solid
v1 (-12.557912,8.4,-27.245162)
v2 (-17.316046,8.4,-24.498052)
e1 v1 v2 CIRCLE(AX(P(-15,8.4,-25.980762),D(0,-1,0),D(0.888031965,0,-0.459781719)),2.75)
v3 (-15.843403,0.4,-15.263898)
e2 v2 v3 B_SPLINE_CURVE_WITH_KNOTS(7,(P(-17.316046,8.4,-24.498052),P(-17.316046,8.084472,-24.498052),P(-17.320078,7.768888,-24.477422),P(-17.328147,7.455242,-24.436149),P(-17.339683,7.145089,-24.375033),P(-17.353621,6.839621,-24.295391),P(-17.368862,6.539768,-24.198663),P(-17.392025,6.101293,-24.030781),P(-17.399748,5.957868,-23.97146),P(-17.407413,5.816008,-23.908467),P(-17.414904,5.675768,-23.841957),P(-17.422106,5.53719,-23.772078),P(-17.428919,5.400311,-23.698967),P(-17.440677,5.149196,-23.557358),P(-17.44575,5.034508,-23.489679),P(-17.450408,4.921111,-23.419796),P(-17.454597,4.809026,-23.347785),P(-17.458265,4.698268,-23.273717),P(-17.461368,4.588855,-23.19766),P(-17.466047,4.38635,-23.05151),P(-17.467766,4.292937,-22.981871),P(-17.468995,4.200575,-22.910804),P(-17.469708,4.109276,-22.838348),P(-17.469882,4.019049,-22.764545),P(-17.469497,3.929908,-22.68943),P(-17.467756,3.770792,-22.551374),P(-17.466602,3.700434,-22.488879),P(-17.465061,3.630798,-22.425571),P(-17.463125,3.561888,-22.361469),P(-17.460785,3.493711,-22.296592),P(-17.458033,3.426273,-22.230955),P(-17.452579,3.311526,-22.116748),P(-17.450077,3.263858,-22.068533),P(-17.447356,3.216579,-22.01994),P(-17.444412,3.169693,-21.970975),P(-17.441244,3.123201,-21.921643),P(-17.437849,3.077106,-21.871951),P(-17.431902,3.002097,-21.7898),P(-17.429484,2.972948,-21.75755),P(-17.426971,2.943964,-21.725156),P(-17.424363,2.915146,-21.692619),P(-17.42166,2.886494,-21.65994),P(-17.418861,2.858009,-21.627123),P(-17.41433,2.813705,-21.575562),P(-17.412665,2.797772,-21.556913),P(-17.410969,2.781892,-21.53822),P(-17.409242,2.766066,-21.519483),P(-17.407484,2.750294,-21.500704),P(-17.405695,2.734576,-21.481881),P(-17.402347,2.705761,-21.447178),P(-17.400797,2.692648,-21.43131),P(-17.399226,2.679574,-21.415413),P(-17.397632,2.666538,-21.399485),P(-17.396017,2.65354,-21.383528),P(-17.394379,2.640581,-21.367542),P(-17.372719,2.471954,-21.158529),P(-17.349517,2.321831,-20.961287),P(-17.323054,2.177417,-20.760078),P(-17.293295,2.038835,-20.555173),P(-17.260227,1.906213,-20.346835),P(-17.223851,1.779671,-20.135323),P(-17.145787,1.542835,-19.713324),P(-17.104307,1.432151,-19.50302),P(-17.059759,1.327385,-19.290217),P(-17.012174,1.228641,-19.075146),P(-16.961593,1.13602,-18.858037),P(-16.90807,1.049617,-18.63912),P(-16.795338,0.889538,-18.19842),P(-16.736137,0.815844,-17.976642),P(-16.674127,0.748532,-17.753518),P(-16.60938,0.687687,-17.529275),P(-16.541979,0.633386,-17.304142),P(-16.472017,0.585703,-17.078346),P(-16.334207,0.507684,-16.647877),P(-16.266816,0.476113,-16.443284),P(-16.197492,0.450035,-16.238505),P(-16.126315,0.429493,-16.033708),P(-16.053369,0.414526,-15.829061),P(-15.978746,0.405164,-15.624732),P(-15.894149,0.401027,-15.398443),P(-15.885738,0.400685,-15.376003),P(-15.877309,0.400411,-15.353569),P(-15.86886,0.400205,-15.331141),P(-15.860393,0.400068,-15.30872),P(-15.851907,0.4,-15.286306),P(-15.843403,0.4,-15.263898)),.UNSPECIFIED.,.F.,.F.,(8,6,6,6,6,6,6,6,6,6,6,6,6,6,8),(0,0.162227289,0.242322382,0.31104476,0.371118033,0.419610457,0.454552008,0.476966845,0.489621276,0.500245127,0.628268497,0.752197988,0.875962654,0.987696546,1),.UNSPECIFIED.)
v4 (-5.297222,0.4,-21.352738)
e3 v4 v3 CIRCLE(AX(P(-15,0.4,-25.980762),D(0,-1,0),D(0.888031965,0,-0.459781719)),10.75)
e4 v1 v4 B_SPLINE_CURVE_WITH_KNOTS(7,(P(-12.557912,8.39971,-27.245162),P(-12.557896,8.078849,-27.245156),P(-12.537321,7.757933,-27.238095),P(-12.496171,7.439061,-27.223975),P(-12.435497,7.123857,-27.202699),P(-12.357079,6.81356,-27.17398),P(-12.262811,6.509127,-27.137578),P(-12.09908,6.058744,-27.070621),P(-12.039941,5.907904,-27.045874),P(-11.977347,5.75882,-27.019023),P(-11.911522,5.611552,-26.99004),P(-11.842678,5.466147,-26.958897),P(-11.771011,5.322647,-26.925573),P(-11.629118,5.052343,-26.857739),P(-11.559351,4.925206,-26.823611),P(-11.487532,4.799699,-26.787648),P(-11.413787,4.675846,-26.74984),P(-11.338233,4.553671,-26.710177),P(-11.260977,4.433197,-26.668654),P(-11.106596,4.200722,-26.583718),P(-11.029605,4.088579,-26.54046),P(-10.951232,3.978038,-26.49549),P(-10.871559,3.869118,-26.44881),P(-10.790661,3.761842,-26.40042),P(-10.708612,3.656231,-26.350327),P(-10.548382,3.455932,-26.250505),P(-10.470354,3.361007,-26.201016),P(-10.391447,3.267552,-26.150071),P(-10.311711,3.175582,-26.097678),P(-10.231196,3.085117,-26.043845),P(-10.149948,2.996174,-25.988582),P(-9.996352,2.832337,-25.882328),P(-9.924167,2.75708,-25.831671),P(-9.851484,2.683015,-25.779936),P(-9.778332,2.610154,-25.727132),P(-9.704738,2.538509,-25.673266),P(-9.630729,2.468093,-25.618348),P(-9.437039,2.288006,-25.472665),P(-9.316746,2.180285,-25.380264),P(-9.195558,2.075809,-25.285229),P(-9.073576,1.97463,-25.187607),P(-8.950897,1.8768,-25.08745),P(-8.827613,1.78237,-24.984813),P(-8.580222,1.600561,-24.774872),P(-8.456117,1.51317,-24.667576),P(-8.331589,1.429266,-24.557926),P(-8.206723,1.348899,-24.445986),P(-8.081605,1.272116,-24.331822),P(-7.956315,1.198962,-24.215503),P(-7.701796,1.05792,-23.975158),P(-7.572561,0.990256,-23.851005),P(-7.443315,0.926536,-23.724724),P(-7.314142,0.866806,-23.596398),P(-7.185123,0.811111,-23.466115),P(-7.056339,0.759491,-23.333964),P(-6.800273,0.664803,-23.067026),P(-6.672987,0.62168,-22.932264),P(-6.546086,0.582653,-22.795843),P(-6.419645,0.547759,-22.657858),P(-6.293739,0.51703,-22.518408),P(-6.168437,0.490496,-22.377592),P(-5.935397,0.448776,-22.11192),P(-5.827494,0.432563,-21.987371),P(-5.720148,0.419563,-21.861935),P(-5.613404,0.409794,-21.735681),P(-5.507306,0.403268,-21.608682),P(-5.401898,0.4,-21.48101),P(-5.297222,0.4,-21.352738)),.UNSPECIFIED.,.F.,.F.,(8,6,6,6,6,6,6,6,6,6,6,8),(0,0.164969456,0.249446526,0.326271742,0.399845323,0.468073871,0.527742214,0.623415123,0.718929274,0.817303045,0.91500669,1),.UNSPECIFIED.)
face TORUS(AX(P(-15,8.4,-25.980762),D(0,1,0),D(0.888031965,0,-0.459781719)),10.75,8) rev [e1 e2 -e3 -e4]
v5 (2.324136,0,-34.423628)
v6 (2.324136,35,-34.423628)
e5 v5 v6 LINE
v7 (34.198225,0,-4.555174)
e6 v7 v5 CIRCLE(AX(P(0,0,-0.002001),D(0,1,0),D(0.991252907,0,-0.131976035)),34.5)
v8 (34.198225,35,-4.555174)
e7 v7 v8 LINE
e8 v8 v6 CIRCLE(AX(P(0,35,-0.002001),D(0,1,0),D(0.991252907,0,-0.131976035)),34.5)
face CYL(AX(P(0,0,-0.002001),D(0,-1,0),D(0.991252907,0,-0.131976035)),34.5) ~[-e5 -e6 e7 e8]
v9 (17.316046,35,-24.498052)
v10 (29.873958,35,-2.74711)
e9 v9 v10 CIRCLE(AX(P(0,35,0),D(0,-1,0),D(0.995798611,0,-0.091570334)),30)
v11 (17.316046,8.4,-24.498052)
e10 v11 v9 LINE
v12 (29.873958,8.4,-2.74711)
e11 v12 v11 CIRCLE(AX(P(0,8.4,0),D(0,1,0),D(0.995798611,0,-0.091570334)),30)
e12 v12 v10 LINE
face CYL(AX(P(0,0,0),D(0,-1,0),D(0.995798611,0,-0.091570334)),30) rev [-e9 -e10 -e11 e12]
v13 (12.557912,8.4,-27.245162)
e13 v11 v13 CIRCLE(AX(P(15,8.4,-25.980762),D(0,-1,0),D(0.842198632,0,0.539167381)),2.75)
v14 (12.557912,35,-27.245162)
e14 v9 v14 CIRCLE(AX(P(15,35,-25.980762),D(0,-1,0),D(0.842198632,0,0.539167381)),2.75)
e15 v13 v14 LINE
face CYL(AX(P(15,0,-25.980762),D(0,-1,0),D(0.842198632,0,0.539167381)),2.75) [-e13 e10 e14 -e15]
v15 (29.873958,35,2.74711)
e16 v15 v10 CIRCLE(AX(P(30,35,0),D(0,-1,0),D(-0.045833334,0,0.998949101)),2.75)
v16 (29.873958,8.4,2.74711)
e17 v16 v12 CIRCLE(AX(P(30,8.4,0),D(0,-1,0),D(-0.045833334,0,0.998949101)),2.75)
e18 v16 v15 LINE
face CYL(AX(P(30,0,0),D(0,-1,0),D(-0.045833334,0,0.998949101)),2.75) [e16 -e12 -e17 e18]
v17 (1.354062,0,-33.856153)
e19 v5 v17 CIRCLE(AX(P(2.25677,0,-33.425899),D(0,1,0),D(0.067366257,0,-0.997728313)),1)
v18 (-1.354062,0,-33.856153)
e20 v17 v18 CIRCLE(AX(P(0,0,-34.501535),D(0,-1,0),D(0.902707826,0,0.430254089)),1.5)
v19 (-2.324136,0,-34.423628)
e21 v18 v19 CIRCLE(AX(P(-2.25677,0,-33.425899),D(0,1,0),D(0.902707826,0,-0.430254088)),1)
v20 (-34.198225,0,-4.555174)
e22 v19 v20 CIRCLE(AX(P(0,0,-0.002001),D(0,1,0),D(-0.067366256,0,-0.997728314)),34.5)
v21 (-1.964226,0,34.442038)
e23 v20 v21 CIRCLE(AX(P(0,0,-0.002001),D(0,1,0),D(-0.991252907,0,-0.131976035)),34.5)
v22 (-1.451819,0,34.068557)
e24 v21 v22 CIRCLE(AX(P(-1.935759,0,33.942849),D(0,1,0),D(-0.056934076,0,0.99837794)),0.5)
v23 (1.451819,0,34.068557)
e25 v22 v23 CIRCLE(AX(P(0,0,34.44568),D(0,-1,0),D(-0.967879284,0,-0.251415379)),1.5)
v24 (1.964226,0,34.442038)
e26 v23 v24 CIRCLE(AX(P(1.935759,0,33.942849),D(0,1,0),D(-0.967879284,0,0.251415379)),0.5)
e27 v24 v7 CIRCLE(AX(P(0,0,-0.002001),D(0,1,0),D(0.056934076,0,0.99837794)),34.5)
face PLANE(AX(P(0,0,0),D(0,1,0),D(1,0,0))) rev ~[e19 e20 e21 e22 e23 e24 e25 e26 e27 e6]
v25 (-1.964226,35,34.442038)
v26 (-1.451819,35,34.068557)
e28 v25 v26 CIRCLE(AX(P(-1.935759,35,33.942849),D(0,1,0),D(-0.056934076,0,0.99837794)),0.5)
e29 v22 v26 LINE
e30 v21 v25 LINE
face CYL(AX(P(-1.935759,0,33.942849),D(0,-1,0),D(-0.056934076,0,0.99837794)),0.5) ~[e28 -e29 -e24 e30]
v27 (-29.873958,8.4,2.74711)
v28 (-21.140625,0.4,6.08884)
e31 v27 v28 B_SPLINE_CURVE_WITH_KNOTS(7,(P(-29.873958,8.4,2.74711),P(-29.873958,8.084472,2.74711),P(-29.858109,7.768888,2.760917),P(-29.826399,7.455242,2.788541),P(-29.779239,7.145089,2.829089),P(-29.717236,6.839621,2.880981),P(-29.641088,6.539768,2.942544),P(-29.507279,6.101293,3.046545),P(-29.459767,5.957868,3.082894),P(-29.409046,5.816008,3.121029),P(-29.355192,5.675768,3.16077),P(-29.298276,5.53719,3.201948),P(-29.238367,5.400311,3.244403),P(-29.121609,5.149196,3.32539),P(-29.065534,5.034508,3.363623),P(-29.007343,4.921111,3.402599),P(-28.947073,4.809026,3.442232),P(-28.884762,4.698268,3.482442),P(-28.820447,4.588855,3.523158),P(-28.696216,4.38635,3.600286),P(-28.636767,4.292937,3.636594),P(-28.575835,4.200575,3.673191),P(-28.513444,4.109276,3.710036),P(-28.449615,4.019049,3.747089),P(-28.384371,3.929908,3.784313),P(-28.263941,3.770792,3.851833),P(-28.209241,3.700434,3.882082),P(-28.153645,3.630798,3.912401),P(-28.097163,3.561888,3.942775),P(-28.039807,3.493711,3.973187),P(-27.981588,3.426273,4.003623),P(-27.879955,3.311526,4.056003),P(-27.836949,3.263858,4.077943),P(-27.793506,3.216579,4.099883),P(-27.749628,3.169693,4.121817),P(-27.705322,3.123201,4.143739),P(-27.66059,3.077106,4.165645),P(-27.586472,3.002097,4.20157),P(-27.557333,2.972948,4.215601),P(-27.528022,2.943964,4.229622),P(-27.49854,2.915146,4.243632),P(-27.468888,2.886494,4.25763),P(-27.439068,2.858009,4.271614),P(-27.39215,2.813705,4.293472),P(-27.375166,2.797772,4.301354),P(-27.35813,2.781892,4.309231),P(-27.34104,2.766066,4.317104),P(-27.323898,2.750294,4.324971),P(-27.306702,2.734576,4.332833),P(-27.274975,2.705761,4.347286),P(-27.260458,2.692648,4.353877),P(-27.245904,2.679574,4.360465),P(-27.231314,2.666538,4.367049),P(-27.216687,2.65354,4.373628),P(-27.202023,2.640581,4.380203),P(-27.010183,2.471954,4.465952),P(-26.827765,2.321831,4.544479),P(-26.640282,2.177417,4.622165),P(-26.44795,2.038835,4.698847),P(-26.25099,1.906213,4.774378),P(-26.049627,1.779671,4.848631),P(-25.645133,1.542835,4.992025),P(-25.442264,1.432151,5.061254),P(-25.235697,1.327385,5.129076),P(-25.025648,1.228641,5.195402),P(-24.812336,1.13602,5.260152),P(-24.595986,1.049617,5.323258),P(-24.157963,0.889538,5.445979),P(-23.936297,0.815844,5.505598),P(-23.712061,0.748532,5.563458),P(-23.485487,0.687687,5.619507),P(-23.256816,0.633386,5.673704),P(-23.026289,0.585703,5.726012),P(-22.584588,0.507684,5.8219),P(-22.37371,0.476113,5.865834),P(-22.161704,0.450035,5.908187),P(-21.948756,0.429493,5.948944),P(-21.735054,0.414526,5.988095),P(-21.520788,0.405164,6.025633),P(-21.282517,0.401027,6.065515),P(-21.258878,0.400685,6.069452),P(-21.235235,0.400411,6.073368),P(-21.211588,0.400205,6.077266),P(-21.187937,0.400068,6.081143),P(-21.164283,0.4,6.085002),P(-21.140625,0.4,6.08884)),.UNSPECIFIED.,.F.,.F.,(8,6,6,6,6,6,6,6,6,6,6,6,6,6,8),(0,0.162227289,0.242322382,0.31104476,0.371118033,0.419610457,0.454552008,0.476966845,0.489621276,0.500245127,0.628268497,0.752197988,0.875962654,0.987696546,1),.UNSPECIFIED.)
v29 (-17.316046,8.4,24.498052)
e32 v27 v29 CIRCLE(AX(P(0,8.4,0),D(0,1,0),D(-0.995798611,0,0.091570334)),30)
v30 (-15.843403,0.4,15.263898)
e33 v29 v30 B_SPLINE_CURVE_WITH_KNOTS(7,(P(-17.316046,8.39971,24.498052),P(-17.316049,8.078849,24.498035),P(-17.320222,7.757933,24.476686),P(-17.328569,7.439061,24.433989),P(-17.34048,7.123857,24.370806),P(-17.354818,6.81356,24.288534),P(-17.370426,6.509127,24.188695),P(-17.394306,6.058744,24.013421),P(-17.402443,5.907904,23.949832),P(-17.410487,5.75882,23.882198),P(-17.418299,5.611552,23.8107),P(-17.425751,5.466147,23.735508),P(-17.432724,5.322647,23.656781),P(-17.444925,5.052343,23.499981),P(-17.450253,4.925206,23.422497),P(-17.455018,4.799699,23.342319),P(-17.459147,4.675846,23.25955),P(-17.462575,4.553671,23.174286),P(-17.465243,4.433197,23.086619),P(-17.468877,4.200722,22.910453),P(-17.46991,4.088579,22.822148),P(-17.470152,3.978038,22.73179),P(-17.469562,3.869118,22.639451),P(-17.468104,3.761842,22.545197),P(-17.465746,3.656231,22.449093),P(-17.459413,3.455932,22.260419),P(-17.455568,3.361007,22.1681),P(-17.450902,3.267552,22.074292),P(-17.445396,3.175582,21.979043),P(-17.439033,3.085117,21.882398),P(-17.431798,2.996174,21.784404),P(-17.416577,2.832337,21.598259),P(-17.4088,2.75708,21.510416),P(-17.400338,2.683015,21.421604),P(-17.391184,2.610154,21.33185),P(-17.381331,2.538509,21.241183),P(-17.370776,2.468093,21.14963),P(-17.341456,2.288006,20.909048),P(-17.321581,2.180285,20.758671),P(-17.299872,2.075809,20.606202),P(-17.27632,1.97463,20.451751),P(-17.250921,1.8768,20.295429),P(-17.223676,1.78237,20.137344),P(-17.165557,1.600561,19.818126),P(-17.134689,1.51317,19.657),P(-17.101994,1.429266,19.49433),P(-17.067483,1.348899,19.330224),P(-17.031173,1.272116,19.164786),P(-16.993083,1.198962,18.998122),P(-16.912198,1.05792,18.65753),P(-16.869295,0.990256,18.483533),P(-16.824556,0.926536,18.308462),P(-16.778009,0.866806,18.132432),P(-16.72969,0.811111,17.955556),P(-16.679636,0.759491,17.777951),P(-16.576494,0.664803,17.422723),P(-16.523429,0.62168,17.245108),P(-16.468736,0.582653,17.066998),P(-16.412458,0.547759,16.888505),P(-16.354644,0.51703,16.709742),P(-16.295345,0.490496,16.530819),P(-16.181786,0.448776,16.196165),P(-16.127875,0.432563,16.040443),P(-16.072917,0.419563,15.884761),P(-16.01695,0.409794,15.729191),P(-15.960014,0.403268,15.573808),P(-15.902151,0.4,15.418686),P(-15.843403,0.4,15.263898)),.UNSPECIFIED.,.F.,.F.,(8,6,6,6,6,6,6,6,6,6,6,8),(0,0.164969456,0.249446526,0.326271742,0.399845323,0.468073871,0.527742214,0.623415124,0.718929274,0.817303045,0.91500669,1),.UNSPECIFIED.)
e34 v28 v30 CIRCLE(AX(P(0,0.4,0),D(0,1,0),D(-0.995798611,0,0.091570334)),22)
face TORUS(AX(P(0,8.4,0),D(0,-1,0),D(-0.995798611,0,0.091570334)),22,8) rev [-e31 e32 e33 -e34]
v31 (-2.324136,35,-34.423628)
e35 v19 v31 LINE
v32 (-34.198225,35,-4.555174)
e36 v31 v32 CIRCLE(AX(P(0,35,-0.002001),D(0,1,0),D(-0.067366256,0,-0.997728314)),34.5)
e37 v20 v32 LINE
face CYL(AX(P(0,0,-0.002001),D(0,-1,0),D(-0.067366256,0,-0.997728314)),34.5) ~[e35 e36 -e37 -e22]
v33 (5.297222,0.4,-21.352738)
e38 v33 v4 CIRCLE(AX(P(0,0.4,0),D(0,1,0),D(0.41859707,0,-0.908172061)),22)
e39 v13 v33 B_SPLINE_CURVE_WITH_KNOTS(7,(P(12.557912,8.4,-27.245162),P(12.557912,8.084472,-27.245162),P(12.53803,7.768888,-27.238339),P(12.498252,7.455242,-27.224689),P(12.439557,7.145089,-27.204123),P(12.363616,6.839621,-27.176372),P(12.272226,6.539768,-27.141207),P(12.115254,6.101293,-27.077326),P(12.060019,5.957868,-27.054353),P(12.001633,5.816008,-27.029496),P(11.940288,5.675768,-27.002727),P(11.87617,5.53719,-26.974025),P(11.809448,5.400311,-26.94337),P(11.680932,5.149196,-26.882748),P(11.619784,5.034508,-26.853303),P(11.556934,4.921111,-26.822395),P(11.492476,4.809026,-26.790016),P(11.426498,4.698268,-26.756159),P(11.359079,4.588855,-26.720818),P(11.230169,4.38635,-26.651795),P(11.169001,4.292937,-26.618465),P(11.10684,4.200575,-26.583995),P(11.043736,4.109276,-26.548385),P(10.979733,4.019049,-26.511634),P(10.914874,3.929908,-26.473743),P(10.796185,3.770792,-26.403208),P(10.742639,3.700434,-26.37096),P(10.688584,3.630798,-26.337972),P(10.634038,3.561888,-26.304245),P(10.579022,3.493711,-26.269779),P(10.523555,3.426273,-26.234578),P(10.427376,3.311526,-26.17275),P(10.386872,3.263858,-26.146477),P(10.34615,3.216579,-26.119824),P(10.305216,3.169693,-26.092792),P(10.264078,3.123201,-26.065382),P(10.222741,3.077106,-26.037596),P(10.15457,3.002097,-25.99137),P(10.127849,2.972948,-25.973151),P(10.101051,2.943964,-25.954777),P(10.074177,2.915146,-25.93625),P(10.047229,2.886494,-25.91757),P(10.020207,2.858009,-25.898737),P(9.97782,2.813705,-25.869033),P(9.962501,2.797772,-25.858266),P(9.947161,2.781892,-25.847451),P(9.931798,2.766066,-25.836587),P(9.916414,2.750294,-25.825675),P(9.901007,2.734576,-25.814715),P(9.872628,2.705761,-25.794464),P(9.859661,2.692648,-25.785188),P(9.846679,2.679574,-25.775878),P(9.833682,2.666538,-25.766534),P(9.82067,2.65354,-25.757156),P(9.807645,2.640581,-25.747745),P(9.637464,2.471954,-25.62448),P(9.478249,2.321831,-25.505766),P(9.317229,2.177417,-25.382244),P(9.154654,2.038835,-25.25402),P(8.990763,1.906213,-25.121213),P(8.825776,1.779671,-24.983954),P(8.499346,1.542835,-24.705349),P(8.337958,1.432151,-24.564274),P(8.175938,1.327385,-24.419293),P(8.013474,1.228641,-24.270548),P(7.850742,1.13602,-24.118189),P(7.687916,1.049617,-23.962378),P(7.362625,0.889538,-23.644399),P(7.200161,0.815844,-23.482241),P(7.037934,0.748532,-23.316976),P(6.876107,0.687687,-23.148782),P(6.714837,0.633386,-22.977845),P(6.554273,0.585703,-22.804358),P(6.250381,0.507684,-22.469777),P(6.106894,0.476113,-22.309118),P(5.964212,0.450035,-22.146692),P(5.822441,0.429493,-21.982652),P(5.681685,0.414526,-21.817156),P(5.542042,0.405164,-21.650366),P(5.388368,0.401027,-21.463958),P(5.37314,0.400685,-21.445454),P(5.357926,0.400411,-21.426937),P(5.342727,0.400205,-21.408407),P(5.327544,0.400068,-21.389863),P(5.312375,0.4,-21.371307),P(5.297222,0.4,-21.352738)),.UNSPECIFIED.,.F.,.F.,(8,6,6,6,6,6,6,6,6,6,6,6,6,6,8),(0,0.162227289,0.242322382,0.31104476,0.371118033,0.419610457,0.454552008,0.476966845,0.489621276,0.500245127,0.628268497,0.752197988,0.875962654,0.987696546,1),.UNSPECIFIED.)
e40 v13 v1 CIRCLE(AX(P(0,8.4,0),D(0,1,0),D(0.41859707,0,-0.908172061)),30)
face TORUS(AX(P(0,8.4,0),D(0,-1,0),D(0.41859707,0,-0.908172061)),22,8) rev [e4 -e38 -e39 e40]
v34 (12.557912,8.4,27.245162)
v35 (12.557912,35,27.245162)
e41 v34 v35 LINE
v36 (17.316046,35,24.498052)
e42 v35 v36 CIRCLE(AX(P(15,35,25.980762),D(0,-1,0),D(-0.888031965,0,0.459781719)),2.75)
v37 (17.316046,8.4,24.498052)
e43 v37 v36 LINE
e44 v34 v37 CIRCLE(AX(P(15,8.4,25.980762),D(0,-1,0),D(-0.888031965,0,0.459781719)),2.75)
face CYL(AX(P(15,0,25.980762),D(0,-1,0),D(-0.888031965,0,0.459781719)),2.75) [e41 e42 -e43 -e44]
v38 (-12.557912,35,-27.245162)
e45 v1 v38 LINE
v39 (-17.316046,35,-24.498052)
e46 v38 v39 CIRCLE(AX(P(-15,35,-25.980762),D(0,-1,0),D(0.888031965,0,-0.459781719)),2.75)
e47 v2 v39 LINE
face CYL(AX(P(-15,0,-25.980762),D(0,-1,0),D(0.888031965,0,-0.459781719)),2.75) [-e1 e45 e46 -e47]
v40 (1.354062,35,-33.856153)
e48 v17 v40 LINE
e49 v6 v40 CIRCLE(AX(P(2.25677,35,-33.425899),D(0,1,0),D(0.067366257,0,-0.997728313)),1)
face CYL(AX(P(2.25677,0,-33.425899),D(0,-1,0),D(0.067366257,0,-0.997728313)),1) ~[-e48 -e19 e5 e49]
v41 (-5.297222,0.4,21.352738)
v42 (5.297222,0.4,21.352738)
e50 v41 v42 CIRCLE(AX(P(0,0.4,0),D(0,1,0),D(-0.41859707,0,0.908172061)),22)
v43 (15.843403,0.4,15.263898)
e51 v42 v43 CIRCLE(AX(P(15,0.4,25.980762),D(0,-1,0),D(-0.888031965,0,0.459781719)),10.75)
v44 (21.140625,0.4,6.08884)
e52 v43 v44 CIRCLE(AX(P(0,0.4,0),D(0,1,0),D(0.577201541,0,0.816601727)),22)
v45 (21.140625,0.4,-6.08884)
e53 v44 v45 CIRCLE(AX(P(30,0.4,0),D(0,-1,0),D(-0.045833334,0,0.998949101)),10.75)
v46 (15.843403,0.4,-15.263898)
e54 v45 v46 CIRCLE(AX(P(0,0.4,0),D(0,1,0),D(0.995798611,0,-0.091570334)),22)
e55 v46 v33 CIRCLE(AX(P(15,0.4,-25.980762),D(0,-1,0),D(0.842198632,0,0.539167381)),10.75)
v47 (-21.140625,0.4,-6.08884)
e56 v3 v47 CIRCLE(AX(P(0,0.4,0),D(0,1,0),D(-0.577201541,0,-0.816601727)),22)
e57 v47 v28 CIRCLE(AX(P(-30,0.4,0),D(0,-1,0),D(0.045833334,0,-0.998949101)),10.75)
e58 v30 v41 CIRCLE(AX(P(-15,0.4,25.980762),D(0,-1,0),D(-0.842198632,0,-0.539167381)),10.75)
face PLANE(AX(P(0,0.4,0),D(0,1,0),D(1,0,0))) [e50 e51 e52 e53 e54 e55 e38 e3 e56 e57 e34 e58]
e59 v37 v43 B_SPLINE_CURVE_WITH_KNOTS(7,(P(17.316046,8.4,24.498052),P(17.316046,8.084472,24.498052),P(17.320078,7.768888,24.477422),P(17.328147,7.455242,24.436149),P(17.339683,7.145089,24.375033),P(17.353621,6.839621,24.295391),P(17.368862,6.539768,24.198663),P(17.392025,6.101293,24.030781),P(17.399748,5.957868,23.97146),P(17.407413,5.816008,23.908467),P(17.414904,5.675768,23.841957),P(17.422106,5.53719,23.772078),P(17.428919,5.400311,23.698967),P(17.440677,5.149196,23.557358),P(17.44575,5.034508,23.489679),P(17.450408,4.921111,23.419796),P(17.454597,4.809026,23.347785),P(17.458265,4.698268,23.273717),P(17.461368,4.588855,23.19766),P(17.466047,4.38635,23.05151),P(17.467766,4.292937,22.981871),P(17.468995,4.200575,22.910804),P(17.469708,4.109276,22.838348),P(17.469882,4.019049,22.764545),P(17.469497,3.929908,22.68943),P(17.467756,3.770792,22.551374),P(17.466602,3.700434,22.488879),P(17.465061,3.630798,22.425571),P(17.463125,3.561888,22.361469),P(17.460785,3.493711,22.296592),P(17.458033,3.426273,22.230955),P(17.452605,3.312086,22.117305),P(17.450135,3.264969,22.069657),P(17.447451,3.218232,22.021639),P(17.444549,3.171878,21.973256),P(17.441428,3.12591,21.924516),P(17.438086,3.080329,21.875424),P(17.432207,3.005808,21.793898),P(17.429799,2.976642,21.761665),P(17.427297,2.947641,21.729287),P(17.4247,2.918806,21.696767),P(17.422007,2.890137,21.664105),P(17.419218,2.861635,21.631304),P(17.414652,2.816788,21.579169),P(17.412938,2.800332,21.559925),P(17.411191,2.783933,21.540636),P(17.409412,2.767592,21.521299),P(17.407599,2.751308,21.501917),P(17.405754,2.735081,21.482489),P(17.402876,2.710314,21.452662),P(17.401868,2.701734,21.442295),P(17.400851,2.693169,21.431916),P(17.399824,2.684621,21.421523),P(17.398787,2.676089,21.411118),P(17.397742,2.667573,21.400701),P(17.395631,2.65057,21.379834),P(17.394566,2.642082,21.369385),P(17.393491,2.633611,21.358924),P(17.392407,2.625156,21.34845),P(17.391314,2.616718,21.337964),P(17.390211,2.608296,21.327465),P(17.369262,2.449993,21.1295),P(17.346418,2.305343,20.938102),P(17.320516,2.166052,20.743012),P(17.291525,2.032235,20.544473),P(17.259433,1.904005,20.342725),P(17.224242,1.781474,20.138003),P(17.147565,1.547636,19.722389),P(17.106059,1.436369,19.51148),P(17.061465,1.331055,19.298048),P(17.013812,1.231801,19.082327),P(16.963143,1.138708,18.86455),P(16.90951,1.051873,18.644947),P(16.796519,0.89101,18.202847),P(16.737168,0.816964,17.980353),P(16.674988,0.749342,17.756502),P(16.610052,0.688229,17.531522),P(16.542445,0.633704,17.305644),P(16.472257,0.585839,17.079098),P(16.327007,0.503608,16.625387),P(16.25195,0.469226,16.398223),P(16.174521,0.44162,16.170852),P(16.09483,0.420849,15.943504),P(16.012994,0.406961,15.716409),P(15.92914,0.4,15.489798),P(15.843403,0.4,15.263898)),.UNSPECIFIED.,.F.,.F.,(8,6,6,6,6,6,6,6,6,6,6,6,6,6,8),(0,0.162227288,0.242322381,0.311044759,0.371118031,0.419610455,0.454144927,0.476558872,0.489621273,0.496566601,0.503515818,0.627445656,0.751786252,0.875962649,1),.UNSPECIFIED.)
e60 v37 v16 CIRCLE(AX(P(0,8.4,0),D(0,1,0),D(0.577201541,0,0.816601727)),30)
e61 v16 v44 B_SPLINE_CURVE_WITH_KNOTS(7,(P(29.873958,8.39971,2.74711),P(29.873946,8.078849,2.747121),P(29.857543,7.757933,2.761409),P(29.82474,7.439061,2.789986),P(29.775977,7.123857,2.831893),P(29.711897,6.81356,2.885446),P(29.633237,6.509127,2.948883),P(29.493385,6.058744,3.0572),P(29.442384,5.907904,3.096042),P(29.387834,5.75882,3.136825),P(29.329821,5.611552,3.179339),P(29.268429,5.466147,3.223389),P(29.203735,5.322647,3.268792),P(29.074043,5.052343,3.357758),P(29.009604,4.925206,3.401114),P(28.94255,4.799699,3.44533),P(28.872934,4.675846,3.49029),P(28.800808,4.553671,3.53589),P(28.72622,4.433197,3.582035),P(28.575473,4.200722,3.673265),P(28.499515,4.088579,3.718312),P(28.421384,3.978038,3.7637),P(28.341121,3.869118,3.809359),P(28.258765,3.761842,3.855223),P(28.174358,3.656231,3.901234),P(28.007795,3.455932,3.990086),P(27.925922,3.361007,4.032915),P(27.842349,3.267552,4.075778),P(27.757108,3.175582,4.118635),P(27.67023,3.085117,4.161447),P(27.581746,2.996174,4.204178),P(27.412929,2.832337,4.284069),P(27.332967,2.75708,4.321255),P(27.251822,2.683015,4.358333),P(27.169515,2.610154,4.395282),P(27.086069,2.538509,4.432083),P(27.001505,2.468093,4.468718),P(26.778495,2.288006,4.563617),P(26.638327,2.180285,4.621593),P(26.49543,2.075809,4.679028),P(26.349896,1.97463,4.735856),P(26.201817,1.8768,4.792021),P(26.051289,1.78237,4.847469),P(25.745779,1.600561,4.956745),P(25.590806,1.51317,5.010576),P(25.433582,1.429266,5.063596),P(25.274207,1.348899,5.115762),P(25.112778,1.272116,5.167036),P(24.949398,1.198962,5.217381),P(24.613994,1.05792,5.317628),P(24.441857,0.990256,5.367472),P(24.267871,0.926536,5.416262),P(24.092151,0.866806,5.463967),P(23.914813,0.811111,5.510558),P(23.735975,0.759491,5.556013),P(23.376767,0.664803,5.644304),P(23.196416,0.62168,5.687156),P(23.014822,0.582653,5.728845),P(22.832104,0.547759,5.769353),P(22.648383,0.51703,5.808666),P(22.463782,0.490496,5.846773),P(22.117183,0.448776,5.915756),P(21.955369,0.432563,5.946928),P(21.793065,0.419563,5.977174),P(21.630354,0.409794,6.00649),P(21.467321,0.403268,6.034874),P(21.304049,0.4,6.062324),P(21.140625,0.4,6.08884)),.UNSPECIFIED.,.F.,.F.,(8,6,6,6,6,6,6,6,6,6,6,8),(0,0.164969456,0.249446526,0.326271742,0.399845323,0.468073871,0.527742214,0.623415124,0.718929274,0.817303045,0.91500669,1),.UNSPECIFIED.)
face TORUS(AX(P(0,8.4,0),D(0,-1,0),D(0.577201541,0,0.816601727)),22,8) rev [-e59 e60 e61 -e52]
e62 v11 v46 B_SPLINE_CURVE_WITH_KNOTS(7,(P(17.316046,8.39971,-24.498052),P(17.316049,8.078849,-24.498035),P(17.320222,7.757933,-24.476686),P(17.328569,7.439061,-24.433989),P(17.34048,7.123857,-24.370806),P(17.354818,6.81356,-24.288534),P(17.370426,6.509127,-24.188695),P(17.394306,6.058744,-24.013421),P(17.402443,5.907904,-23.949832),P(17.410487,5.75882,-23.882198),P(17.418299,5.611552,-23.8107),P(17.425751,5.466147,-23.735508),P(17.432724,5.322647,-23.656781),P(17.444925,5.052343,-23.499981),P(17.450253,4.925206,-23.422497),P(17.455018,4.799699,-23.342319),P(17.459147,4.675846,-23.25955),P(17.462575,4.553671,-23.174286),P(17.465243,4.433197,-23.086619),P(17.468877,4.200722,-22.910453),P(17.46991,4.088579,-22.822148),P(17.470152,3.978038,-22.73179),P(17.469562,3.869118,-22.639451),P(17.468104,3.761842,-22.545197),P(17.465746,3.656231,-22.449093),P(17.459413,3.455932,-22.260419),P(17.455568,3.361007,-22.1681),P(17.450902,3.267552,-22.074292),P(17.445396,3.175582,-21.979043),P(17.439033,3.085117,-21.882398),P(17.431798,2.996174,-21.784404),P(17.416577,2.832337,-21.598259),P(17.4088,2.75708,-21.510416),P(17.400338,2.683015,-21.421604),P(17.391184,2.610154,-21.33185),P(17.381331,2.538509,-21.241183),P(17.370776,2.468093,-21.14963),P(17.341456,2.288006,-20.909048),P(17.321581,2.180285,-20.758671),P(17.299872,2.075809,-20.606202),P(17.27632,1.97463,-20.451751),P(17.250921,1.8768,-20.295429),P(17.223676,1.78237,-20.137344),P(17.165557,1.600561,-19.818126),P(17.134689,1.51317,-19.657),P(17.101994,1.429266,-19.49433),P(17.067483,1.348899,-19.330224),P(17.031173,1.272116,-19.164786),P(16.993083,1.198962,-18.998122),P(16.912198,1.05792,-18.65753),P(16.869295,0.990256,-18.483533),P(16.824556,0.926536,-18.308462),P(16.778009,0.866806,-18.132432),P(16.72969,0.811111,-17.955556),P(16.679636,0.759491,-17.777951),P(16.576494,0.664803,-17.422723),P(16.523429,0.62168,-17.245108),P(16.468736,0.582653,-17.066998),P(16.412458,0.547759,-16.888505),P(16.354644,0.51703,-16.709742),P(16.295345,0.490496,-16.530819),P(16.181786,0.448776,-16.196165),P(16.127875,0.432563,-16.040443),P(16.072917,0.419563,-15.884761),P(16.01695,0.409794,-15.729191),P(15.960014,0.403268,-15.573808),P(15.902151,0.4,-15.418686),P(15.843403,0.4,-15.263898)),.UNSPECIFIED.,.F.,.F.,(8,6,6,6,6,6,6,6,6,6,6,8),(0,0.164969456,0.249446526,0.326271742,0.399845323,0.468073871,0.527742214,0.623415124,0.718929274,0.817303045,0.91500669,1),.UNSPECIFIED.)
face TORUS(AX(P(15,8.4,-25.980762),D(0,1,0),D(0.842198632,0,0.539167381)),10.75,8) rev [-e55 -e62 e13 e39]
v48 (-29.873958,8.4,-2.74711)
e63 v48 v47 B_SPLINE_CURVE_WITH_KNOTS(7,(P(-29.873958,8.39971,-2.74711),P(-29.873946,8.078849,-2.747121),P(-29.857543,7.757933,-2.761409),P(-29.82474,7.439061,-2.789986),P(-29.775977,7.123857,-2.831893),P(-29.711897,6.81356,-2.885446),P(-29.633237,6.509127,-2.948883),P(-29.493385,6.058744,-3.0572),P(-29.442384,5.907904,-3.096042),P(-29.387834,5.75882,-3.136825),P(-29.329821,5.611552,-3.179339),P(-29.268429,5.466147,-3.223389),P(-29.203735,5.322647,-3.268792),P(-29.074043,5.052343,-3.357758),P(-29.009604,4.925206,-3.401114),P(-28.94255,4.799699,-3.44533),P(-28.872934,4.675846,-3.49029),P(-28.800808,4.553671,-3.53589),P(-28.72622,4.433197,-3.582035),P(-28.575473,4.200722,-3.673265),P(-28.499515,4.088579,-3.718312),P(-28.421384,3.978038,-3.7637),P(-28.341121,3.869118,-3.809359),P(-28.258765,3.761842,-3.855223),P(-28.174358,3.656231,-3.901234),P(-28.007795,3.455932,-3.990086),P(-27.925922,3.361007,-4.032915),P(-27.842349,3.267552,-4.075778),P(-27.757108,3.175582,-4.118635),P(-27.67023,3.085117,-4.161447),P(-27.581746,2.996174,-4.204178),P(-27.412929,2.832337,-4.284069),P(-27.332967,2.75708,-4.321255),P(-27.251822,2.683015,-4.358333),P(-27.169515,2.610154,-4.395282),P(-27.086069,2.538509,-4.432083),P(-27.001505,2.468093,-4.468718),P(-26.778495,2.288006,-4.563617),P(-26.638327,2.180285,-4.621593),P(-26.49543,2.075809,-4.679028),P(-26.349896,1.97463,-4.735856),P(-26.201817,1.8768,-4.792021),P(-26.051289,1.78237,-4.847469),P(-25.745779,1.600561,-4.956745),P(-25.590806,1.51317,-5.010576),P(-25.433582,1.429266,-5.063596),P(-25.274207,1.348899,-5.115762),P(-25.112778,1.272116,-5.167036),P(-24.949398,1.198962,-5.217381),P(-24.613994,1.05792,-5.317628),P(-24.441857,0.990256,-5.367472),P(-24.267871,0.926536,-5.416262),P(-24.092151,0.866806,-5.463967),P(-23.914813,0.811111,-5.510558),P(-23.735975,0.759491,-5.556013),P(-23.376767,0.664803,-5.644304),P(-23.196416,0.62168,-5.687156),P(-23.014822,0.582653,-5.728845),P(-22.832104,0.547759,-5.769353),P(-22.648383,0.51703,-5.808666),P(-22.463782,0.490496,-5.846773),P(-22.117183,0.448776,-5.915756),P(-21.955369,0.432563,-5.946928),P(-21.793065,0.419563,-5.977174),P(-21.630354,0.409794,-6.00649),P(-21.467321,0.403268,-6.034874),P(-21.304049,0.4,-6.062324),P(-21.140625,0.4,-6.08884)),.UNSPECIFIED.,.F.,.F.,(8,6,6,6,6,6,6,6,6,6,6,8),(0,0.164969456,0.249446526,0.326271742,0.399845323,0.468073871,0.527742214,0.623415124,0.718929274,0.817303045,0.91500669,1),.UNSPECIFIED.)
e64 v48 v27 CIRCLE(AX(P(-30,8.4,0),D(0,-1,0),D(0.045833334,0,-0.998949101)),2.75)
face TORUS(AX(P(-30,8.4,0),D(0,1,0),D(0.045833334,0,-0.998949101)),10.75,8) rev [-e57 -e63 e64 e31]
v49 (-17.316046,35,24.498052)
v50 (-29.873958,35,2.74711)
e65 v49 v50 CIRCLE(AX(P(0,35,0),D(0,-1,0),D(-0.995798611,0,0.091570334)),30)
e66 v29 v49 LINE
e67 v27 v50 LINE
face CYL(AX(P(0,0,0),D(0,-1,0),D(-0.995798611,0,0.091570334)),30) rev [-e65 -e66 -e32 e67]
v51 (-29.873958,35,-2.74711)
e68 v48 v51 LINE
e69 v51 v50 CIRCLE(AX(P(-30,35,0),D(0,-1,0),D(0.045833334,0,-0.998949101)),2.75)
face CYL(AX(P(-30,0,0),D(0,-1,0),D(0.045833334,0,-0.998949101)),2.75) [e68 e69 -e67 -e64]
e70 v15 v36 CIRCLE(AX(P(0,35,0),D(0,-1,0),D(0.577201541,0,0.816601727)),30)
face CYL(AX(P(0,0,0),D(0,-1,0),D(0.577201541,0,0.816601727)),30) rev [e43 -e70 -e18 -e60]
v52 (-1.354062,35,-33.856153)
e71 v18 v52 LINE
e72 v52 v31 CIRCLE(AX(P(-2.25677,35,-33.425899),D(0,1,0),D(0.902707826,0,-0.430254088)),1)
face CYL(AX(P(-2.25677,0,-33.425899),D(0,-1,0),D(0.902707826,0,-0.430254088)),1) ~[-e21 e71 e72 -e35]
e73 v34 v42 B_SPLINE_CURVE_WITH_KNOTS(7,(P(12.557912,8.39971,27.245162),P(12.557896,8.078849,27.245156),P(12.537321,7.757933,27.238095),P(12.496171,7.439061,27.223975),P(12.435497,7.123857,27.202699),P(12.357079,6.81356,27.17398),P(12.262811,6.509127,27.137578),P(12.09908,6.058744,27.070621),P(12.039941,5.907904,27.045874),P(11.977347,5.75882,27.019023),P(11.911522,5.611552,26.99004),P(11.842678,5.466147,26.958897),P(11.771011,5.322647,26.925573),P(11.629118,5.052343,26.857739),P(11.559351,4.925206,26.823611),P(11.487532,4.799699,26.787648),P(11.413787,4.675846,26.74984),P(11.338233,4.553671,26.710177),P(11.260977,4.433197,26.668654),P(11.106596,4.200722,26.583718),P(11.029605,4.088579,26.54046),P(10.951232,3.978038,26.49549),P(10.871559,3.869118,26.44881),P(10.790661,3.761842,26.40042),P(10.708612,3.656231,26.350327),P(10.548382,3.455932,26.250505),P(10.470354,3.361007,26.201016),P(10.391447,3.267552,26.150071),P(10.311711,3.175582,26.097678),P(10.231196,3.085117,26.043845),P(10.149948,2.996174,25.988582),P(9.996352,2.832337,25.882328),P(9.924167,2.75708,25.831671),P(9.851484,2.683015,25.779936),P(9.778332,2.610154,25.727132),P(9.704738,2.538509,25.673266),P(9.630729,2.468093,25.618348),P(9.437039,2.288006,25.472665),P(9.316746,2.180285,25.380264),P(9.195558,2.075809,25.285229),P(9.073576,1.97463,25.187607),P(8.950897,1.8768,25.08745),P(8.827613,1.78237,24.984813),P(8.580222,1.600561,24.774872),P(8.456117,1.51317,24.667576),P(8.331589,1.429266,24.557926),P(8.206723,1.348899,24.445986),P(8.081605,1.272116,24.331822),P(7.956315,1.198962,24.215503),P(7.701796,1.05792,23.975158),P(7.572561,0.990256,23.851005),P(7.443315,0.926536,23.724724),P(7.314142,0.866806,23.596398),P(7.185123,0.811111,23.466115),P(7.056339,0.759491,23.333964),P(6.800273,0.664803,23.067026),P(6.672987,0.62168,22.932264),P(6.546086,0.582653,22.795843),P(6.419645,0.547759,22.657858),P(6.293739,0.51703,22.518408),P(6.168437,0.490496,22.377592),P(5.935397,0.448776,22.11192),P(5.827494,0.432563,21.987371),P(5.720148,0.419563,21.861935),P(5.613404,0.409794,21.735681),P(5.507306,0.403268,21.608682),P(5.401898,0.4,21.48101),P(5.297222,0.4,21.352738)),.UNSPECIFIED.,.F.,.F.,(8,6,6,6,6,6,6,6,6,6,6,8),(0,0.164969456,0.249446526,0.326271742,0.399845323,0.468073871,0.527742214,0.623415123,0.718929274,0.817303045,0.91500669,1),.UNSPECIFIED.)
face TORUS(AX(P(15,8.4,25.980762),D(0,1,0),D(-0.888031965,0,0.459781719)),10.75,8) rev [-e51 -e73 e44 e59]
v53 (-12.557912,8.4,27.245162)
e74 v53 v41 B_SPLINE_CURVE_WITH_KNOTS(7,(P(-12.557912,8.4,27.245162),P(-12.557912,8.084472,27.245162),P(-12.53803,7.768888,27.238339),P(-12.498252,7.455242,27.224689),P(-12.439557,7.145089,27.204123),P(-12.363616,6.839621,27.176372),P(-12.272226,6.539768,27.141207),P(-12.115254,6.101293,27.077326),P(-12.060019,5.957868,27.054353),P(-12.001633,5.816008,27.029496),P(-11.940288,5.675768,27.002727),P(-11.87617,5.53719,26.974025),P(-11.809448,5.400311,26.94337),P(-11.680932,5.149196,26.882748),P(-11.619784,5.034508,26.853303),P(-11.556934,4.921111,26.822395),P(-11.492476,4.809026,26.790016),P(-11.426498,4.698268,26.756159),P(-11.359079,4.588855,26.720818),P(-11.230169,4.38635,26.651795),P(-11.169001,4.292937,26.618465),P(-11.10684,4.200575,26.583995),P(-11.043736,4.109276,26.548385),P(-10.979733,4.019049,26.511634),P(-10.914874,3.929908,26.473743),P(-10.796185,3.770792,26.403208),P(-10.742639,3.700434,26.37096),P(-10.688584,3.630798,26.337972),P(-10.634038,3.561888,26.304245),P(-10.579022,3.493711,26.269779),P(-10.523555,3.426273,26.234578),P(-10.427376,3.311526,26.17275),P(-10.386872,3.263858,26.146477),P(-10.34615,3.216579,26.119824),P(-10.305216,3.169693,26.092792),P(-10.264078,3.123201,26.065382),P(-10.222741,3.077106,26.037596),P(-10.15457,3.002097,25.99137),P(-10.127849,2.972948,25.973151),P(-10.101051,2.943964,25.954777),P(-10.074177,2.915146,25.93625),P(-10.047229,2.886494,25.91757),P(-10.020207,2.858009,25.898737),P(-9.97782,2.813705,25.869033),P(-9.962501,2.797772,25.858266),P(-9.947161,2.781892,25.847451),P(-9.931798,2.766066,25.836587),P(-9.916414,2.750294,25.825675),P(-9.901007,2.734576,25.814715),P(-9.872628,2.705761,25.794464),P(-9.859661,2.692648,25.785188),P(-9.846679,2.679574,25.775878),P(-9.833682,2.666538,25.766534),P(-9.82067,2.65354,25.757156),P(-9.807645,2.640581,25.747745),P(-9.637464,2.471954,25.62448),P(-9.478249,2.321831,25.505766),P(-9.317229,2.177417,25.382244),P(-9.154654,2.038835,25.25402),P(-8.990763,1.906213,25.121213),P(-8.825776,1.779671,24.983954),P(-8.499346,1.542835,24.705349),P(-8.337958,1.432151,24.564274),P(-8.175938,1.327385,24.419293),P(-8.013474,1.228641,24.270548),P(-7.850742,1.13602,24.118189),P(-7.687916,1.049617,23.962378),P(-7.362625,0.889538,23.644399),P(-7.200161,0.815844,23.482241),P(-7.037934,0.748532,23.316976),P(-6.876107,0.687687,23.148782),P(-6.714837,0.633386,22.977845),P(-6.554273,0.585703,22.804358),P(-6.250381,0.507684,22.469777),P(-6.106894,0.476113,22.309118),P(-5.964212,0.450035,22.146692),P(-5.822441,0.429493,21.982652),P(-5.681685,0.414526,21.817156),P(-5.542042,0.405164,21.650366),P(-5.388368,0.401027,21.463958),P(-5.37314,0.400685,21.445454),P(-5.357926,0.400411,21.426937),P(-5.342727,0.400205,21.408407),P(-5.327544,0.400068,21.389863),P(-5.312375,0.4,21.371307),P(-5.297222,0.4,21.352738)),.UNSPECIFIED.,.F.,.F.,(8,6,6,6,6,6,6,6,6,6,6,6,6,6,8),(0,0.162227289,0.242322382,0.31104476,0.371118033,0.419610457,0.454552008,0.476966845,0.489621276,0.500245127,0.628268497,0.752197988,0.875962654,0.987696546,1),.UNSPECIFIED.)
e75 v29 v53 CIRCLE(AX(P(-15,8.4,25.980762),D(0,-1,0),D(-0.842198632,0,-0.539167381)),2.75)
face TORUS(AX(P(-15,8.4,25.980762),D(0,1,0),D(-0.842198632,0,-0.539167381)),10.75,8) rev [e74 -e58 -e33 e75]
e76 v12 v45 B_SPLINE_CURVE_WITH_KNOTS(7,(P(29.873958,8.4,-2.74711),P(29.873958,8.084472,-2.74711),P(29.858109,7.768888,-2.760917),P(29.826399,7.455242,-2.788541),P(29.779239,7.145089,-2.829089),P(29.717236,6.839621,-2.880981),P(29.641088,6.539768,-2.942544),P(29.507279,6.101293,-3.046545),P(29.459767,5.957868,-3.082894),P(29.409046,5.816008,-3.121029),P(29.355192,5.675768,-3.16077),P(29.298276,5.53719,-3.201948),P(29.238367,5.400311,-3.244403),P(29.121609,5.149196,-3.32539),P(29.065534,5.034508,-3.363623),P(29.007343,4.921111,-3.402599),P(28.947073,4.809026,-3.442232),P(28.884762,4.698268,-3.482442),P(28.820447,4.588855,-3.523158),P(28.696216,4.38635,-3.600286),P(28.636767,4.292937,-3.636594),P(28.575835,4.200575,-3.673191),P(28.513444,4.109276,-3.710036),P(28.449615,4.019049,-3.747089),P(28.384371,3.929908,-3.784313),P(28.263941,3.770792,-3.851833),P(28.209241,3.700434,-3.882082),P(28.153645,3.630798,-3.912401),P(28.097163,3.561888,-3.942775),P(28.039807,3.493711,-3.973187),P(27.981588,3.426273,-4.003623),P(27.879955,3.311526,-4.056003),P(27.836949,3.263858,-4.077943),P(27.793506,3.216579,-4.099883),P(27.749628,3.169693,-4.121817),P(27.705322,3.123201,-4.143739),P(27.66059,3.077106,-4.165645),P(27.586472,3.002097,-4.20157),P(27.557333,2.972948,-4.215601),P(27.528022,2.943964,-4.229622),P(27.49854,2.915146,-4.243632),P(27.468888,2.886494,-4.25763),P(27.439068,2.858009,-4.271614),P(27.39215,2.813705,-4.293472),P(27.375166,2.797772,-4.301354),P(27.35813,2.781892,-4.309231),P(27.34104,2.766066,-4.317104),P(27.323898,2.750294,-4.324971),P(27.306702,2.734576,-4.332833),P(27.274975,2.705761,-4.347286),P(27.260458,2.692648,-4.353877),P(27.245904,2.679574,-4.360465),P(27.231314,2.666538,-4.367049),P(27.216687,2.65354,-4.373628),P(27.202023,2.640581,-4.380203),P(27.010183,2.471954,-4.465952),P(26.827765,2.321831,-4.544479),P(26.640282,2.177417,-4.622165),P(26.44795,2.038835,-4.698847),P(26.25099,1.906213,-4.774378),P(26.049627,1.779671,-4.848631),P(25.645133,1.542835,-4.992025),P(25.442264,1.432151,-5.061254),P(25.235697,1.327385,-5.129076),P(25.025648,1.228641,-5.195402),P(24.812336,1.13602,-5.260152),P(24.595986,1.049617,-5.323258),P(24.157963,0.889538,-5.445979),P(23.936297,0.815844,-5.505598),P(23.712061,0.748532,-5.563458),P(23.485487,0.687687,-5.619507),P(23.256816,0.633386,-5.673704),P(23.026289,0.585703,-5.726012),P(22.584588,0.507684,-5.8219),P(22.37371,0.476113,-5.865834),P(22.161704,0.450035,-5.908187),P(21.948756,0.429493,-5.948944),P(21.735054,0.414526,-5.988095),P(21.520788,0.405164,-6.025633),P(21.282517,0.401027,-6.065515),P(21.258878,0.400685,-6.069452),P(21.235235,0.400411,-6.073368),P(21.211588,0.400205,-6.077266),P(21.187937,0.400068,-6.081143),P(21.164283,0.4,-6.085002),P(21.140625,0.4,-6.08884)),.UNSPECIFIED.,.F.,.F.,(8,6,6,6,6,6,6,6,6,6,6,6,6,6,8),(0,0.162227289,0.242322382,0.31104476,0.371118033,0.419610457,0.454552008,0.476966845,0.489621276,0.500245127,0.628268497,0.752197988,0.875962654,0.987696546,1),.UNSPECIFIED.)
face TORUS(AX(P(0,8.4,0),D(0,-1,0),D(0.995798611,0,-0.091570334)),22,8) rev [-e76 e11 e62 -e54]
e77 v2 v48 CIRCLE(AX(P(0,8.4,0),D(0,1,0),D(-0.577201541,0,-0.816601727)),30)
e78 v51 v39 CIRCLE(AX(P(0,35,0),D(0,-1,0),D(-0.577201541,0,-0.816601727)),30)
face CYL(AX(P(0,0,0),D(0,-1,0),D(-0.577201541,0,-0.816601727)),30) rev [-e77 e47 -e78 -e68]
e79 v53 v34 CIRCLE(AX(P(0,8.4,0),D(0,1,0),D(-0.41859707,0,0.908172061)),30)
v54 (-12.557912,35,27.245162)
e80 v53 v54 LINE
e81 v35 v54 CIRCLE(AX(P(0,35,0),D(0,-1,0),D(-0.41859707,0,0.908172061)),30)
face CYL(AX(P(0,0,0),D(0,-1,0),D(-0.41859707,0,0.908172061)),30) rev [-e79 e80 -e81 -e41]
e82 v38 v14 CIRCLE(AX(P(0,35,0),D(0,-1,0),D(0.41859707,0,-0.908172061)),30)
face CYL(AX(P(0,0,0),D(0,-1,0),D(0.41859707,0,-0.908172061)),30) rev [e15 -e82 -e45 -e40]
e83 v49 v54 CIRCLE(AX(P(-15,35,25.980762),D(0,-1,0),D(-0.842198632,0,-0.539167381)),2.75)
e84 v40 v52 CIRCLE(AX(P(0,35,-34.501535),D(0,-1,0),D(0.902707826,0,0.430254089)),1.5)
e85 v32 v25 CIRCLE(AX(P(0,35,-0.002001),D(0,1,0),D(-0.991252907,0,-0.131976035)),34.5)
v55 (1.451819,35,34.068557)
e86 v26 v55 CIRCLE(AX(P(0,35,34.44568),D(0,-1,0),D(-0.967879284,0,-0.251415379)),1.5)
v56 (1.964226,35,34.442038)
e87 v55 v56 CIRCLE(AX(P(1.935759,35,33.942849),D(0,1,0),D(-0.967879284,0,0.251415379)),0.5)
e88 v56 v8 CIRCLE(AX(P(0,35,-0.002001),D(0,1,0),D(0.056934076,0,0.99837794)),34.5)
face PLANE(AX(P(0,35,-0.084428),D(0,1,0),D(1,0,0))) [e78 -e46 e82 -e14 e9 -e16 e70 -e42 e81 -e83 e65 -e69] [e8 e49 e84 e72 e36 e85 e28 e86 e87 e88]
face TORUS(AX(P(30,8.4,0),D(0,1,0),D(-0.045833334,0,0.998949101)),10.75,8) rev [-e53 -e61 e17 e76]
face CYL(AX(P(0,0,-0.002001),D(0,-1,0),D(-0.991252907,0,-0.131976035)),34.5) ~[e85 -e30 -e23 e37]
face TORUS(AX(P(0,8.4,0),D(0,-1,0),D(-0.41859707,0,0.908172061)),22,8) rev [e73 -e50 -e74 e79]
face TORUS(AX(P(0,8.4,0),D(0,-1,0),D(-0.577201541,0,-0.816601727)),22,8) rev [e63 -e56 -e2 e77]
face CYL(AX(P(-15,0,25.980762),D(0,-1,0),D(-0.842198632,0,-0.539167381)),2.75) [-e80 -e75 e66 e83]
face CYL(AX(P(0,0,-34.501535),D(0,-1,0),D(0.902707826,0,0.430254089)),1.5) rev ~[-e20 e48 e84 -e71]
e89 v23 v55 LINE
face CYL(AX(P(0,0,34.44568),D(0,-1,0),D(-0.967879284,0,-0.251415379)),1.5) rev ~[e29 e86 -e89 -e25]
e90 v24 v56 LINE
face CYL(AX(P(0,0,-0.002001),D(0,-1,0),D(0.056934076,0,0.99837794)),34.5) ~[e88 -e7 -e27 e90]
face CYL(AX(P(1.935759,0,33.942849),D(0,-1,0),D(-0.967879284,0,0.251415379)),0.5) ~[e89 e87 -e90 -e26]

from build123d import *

# Parameters (mm, degrees)
BOSS_EXTRUDE1_DEPTH = 35
CUT_EXTRUDE2_DEPTH  = 36
BOSS_EXTRUDE2_DEPTH = 0.4
FILLET1_R           = 8


with BuildPart() as part:
    # Sketch1 → Boss-Extrude1 (new body)
    with BuildSketch(Plane(origin=(0, 0, 0), x_dir=(1, 0, 0), z_dir=(0, 1, 0))):
        with BuildLine():
            ThreePointArc((1.451818925, -34.068556857), (1.641248992, -34.346908706), (1.964225605, -34.442038138))
            ThreePointArc((1.964225605, -34.442038138), (26.591847487, -21.978073076), (34.198225299, 4.555174015))
            ThreePointArc((34.198225299, 4.555174015), (23.590291339, 25.176355888), (2.324135821, 34.423627607))
            ThreePointArc((2.324135821, 34.423627607), (1.751838249, 34.289058819), (1.354061739, 33.856153382))
            ThreePointArc((1.354061739, 33.856153382), (0, 33.001534515), (-1.354061739, 33.856153382))
            ThreePointArc((-1.354061739, 33.856153382), (-1.751838249, 34.289058819), (-2.324135821, 34.423627607))
            ThreePointArc((-2.324135821, 34.423627607), (-23.590291339, 25.176355888), (-34.198225299, 4.555174015))
            ThreePointArc((-34.198225299, 4.555174015), (-26.591847487, -21.978073076), (-1.964225605, -34.442038138))
            ThreePointArc((-1.964225605, -34.442038138), (-1.641248992, -34.346908706), (-1.451818925, -34.068556857))
            ThreePointArc((-1.451818925, -34.068556857), (0, -32.945679925), (1.451818925, -34.068556857))
        make_face()
        with BuildLine():
            Line((-2.417, 3.787737139), (0, 3.787737139))
            Line((0, 3.787737139), (2.417, 3.787737139))
            ThreePointArc((2.417, 3.787737139), (0, -4.489512172), (-2.417, 3.787737139))
        make_face(mode=Mode.SUBTRACT)
    extrude(amount=BOSS_EXTRUDE1_DEPTH)

    # Sketch2 → Cut-Extrude2 (cut, through all)
    with BuildSketch(Plane(origin=(0, 0, 0), x_dir=(1, 0, 0), z_dir=(0, 1, 0))):
        with BuildLine():
            ThreePointArc((-17.316046237, 24.498051815), (-25.980762114, 15), (-29.873958333, 2.747110027))
            ThreePointArc((-29.873958333, 2.747110027), (-27.25, 0), (-29.873958333, -2.747110027))
            ThreePointArc((-29.873958333, -2.747110027), (-25.980762114, -15), (-17.316046237, -24.498051815))
            ThreePointArc((-17.316046237, -24.498051815), (-13.625, -23.599192253), (-12.557912097, -27.245161842))
            ThreePointArc((-12.557912097, -27.245161842), (0, -30), (12.557912097, -27.245161842))
            ThreePointArc((12.557912097, -27.245161842), (13.625, -23.599192253), (17.316046237, -24.498051815))
            ThreePointArc((17.316046237, -24.498051815), (25.980762114, -15), (29.873958333, -2.747110027))
            ThreePointArc((29.873958333, -2.747110027), (27.25, 0), (29.873958333, 2.747110027))
            ThreePointArc((29.873958333, 2.747110027), (25.980762114, 15), (17.316046237, 24.498051815))
            ThreePointArc((17.316046237, 24.498051815), (13.625, 23.599192253), (12.557912097, 27.245161842))
            ThreePointArc((12.557912097, 27.245161842), (0, 30), (-12.557912097, 27.245161842))
            ThreePointArc((-12.557912097, 27.245161842), (-13.625, 23.599192253), (-17.316046237, 24.498051815))
        make_face()
    extrude(amount=CUT_EXTRUDE2_DEPTH, mode=Mode.SUBTRACT)

    # Sketch2<2> → Boss-Extrude2 (add)
    with BuildSketch(Plane(origin=(0, 0, 0), x_dir=(1, 0, 0), z_dir=(0, 1, 0))):
        with BuildLine():
            ThreePointArc((-17.316046237, 24.498051815), (-25.980762114, 15), (-29.873958333, 2.747110027))
            ThreePointArc((-29.873958333, 2.747110027), (-27.25, 0), (-29.873958333, -2.747110027))
            ThreePointArc((-29.873958333, -2.747110027), (-25.980762114, -15), (-17.316046237, -24.498051815))
            ThreePointArc((-17.316046237, -24.498051815), (-13.625, -23.599192253), (-12.557912097, -27.245161842))
            ThreePointArc((-12.557912097, -27.245161842), (0, -30), (12.557912097, -27.245161842))
            ThreePointArc((12.557912097, -27.245161842), (13.625, -23.599192253), (17.316046237, -24.498051815))
            ThreePointArc((17.316046237, -24.498051815), (25.980762114, -15), (29.873958333, -2.747110027))
            ThreePointArc((29.873958333, -2.747110027), (27.25, 0), (29.873958333, 2.747110027))
            ThreePointArc((29.873958333, 2.747110027), (25.980762114, 15), (17.316046237, 24.498051815))
            ThreePointArc((17.316046237, 24.498051815), (13.625, 23.599192253), (12.557912097, 27.245161842))
            ThreePointArc((12.557912097, 27.245161842), (0, 30), (-12.557912097, 27.245161842))
            ThreePointArc((-12.557912097, 27.245161842), (-13.625, 23.599192253), (-17.316046237, 24.498051815))
        make_face()
    extrude(amount=BOSS_EXTRUDE2_DEPTH)

    # Fillet1
    fillet1_edges = [part.edges().sort_by_distance(p)[0] for p in [
        (25.980762114, 0.4, 15),
        (27.25, 0.4, 0),
        (25.980762114, 0.4, -15),
        (13.625, 0.4, -23.599192253),
        (0, 0.4, -30),
        (-13.625, 0.4, -23.599192253),
        (-25.980762114, 0.4, -15),
        (-27.25, 0.4, 0),
        (-25.980762114, 0.4, 15),
        (-13.625, 0.4, 23.599192253),
        (0, 0.4, 30),
        (13.625, 0.4, 23.599192253),
    ]]
    fillet(fillet1_edges, radius=FILLET1_R)


solid = part.part
